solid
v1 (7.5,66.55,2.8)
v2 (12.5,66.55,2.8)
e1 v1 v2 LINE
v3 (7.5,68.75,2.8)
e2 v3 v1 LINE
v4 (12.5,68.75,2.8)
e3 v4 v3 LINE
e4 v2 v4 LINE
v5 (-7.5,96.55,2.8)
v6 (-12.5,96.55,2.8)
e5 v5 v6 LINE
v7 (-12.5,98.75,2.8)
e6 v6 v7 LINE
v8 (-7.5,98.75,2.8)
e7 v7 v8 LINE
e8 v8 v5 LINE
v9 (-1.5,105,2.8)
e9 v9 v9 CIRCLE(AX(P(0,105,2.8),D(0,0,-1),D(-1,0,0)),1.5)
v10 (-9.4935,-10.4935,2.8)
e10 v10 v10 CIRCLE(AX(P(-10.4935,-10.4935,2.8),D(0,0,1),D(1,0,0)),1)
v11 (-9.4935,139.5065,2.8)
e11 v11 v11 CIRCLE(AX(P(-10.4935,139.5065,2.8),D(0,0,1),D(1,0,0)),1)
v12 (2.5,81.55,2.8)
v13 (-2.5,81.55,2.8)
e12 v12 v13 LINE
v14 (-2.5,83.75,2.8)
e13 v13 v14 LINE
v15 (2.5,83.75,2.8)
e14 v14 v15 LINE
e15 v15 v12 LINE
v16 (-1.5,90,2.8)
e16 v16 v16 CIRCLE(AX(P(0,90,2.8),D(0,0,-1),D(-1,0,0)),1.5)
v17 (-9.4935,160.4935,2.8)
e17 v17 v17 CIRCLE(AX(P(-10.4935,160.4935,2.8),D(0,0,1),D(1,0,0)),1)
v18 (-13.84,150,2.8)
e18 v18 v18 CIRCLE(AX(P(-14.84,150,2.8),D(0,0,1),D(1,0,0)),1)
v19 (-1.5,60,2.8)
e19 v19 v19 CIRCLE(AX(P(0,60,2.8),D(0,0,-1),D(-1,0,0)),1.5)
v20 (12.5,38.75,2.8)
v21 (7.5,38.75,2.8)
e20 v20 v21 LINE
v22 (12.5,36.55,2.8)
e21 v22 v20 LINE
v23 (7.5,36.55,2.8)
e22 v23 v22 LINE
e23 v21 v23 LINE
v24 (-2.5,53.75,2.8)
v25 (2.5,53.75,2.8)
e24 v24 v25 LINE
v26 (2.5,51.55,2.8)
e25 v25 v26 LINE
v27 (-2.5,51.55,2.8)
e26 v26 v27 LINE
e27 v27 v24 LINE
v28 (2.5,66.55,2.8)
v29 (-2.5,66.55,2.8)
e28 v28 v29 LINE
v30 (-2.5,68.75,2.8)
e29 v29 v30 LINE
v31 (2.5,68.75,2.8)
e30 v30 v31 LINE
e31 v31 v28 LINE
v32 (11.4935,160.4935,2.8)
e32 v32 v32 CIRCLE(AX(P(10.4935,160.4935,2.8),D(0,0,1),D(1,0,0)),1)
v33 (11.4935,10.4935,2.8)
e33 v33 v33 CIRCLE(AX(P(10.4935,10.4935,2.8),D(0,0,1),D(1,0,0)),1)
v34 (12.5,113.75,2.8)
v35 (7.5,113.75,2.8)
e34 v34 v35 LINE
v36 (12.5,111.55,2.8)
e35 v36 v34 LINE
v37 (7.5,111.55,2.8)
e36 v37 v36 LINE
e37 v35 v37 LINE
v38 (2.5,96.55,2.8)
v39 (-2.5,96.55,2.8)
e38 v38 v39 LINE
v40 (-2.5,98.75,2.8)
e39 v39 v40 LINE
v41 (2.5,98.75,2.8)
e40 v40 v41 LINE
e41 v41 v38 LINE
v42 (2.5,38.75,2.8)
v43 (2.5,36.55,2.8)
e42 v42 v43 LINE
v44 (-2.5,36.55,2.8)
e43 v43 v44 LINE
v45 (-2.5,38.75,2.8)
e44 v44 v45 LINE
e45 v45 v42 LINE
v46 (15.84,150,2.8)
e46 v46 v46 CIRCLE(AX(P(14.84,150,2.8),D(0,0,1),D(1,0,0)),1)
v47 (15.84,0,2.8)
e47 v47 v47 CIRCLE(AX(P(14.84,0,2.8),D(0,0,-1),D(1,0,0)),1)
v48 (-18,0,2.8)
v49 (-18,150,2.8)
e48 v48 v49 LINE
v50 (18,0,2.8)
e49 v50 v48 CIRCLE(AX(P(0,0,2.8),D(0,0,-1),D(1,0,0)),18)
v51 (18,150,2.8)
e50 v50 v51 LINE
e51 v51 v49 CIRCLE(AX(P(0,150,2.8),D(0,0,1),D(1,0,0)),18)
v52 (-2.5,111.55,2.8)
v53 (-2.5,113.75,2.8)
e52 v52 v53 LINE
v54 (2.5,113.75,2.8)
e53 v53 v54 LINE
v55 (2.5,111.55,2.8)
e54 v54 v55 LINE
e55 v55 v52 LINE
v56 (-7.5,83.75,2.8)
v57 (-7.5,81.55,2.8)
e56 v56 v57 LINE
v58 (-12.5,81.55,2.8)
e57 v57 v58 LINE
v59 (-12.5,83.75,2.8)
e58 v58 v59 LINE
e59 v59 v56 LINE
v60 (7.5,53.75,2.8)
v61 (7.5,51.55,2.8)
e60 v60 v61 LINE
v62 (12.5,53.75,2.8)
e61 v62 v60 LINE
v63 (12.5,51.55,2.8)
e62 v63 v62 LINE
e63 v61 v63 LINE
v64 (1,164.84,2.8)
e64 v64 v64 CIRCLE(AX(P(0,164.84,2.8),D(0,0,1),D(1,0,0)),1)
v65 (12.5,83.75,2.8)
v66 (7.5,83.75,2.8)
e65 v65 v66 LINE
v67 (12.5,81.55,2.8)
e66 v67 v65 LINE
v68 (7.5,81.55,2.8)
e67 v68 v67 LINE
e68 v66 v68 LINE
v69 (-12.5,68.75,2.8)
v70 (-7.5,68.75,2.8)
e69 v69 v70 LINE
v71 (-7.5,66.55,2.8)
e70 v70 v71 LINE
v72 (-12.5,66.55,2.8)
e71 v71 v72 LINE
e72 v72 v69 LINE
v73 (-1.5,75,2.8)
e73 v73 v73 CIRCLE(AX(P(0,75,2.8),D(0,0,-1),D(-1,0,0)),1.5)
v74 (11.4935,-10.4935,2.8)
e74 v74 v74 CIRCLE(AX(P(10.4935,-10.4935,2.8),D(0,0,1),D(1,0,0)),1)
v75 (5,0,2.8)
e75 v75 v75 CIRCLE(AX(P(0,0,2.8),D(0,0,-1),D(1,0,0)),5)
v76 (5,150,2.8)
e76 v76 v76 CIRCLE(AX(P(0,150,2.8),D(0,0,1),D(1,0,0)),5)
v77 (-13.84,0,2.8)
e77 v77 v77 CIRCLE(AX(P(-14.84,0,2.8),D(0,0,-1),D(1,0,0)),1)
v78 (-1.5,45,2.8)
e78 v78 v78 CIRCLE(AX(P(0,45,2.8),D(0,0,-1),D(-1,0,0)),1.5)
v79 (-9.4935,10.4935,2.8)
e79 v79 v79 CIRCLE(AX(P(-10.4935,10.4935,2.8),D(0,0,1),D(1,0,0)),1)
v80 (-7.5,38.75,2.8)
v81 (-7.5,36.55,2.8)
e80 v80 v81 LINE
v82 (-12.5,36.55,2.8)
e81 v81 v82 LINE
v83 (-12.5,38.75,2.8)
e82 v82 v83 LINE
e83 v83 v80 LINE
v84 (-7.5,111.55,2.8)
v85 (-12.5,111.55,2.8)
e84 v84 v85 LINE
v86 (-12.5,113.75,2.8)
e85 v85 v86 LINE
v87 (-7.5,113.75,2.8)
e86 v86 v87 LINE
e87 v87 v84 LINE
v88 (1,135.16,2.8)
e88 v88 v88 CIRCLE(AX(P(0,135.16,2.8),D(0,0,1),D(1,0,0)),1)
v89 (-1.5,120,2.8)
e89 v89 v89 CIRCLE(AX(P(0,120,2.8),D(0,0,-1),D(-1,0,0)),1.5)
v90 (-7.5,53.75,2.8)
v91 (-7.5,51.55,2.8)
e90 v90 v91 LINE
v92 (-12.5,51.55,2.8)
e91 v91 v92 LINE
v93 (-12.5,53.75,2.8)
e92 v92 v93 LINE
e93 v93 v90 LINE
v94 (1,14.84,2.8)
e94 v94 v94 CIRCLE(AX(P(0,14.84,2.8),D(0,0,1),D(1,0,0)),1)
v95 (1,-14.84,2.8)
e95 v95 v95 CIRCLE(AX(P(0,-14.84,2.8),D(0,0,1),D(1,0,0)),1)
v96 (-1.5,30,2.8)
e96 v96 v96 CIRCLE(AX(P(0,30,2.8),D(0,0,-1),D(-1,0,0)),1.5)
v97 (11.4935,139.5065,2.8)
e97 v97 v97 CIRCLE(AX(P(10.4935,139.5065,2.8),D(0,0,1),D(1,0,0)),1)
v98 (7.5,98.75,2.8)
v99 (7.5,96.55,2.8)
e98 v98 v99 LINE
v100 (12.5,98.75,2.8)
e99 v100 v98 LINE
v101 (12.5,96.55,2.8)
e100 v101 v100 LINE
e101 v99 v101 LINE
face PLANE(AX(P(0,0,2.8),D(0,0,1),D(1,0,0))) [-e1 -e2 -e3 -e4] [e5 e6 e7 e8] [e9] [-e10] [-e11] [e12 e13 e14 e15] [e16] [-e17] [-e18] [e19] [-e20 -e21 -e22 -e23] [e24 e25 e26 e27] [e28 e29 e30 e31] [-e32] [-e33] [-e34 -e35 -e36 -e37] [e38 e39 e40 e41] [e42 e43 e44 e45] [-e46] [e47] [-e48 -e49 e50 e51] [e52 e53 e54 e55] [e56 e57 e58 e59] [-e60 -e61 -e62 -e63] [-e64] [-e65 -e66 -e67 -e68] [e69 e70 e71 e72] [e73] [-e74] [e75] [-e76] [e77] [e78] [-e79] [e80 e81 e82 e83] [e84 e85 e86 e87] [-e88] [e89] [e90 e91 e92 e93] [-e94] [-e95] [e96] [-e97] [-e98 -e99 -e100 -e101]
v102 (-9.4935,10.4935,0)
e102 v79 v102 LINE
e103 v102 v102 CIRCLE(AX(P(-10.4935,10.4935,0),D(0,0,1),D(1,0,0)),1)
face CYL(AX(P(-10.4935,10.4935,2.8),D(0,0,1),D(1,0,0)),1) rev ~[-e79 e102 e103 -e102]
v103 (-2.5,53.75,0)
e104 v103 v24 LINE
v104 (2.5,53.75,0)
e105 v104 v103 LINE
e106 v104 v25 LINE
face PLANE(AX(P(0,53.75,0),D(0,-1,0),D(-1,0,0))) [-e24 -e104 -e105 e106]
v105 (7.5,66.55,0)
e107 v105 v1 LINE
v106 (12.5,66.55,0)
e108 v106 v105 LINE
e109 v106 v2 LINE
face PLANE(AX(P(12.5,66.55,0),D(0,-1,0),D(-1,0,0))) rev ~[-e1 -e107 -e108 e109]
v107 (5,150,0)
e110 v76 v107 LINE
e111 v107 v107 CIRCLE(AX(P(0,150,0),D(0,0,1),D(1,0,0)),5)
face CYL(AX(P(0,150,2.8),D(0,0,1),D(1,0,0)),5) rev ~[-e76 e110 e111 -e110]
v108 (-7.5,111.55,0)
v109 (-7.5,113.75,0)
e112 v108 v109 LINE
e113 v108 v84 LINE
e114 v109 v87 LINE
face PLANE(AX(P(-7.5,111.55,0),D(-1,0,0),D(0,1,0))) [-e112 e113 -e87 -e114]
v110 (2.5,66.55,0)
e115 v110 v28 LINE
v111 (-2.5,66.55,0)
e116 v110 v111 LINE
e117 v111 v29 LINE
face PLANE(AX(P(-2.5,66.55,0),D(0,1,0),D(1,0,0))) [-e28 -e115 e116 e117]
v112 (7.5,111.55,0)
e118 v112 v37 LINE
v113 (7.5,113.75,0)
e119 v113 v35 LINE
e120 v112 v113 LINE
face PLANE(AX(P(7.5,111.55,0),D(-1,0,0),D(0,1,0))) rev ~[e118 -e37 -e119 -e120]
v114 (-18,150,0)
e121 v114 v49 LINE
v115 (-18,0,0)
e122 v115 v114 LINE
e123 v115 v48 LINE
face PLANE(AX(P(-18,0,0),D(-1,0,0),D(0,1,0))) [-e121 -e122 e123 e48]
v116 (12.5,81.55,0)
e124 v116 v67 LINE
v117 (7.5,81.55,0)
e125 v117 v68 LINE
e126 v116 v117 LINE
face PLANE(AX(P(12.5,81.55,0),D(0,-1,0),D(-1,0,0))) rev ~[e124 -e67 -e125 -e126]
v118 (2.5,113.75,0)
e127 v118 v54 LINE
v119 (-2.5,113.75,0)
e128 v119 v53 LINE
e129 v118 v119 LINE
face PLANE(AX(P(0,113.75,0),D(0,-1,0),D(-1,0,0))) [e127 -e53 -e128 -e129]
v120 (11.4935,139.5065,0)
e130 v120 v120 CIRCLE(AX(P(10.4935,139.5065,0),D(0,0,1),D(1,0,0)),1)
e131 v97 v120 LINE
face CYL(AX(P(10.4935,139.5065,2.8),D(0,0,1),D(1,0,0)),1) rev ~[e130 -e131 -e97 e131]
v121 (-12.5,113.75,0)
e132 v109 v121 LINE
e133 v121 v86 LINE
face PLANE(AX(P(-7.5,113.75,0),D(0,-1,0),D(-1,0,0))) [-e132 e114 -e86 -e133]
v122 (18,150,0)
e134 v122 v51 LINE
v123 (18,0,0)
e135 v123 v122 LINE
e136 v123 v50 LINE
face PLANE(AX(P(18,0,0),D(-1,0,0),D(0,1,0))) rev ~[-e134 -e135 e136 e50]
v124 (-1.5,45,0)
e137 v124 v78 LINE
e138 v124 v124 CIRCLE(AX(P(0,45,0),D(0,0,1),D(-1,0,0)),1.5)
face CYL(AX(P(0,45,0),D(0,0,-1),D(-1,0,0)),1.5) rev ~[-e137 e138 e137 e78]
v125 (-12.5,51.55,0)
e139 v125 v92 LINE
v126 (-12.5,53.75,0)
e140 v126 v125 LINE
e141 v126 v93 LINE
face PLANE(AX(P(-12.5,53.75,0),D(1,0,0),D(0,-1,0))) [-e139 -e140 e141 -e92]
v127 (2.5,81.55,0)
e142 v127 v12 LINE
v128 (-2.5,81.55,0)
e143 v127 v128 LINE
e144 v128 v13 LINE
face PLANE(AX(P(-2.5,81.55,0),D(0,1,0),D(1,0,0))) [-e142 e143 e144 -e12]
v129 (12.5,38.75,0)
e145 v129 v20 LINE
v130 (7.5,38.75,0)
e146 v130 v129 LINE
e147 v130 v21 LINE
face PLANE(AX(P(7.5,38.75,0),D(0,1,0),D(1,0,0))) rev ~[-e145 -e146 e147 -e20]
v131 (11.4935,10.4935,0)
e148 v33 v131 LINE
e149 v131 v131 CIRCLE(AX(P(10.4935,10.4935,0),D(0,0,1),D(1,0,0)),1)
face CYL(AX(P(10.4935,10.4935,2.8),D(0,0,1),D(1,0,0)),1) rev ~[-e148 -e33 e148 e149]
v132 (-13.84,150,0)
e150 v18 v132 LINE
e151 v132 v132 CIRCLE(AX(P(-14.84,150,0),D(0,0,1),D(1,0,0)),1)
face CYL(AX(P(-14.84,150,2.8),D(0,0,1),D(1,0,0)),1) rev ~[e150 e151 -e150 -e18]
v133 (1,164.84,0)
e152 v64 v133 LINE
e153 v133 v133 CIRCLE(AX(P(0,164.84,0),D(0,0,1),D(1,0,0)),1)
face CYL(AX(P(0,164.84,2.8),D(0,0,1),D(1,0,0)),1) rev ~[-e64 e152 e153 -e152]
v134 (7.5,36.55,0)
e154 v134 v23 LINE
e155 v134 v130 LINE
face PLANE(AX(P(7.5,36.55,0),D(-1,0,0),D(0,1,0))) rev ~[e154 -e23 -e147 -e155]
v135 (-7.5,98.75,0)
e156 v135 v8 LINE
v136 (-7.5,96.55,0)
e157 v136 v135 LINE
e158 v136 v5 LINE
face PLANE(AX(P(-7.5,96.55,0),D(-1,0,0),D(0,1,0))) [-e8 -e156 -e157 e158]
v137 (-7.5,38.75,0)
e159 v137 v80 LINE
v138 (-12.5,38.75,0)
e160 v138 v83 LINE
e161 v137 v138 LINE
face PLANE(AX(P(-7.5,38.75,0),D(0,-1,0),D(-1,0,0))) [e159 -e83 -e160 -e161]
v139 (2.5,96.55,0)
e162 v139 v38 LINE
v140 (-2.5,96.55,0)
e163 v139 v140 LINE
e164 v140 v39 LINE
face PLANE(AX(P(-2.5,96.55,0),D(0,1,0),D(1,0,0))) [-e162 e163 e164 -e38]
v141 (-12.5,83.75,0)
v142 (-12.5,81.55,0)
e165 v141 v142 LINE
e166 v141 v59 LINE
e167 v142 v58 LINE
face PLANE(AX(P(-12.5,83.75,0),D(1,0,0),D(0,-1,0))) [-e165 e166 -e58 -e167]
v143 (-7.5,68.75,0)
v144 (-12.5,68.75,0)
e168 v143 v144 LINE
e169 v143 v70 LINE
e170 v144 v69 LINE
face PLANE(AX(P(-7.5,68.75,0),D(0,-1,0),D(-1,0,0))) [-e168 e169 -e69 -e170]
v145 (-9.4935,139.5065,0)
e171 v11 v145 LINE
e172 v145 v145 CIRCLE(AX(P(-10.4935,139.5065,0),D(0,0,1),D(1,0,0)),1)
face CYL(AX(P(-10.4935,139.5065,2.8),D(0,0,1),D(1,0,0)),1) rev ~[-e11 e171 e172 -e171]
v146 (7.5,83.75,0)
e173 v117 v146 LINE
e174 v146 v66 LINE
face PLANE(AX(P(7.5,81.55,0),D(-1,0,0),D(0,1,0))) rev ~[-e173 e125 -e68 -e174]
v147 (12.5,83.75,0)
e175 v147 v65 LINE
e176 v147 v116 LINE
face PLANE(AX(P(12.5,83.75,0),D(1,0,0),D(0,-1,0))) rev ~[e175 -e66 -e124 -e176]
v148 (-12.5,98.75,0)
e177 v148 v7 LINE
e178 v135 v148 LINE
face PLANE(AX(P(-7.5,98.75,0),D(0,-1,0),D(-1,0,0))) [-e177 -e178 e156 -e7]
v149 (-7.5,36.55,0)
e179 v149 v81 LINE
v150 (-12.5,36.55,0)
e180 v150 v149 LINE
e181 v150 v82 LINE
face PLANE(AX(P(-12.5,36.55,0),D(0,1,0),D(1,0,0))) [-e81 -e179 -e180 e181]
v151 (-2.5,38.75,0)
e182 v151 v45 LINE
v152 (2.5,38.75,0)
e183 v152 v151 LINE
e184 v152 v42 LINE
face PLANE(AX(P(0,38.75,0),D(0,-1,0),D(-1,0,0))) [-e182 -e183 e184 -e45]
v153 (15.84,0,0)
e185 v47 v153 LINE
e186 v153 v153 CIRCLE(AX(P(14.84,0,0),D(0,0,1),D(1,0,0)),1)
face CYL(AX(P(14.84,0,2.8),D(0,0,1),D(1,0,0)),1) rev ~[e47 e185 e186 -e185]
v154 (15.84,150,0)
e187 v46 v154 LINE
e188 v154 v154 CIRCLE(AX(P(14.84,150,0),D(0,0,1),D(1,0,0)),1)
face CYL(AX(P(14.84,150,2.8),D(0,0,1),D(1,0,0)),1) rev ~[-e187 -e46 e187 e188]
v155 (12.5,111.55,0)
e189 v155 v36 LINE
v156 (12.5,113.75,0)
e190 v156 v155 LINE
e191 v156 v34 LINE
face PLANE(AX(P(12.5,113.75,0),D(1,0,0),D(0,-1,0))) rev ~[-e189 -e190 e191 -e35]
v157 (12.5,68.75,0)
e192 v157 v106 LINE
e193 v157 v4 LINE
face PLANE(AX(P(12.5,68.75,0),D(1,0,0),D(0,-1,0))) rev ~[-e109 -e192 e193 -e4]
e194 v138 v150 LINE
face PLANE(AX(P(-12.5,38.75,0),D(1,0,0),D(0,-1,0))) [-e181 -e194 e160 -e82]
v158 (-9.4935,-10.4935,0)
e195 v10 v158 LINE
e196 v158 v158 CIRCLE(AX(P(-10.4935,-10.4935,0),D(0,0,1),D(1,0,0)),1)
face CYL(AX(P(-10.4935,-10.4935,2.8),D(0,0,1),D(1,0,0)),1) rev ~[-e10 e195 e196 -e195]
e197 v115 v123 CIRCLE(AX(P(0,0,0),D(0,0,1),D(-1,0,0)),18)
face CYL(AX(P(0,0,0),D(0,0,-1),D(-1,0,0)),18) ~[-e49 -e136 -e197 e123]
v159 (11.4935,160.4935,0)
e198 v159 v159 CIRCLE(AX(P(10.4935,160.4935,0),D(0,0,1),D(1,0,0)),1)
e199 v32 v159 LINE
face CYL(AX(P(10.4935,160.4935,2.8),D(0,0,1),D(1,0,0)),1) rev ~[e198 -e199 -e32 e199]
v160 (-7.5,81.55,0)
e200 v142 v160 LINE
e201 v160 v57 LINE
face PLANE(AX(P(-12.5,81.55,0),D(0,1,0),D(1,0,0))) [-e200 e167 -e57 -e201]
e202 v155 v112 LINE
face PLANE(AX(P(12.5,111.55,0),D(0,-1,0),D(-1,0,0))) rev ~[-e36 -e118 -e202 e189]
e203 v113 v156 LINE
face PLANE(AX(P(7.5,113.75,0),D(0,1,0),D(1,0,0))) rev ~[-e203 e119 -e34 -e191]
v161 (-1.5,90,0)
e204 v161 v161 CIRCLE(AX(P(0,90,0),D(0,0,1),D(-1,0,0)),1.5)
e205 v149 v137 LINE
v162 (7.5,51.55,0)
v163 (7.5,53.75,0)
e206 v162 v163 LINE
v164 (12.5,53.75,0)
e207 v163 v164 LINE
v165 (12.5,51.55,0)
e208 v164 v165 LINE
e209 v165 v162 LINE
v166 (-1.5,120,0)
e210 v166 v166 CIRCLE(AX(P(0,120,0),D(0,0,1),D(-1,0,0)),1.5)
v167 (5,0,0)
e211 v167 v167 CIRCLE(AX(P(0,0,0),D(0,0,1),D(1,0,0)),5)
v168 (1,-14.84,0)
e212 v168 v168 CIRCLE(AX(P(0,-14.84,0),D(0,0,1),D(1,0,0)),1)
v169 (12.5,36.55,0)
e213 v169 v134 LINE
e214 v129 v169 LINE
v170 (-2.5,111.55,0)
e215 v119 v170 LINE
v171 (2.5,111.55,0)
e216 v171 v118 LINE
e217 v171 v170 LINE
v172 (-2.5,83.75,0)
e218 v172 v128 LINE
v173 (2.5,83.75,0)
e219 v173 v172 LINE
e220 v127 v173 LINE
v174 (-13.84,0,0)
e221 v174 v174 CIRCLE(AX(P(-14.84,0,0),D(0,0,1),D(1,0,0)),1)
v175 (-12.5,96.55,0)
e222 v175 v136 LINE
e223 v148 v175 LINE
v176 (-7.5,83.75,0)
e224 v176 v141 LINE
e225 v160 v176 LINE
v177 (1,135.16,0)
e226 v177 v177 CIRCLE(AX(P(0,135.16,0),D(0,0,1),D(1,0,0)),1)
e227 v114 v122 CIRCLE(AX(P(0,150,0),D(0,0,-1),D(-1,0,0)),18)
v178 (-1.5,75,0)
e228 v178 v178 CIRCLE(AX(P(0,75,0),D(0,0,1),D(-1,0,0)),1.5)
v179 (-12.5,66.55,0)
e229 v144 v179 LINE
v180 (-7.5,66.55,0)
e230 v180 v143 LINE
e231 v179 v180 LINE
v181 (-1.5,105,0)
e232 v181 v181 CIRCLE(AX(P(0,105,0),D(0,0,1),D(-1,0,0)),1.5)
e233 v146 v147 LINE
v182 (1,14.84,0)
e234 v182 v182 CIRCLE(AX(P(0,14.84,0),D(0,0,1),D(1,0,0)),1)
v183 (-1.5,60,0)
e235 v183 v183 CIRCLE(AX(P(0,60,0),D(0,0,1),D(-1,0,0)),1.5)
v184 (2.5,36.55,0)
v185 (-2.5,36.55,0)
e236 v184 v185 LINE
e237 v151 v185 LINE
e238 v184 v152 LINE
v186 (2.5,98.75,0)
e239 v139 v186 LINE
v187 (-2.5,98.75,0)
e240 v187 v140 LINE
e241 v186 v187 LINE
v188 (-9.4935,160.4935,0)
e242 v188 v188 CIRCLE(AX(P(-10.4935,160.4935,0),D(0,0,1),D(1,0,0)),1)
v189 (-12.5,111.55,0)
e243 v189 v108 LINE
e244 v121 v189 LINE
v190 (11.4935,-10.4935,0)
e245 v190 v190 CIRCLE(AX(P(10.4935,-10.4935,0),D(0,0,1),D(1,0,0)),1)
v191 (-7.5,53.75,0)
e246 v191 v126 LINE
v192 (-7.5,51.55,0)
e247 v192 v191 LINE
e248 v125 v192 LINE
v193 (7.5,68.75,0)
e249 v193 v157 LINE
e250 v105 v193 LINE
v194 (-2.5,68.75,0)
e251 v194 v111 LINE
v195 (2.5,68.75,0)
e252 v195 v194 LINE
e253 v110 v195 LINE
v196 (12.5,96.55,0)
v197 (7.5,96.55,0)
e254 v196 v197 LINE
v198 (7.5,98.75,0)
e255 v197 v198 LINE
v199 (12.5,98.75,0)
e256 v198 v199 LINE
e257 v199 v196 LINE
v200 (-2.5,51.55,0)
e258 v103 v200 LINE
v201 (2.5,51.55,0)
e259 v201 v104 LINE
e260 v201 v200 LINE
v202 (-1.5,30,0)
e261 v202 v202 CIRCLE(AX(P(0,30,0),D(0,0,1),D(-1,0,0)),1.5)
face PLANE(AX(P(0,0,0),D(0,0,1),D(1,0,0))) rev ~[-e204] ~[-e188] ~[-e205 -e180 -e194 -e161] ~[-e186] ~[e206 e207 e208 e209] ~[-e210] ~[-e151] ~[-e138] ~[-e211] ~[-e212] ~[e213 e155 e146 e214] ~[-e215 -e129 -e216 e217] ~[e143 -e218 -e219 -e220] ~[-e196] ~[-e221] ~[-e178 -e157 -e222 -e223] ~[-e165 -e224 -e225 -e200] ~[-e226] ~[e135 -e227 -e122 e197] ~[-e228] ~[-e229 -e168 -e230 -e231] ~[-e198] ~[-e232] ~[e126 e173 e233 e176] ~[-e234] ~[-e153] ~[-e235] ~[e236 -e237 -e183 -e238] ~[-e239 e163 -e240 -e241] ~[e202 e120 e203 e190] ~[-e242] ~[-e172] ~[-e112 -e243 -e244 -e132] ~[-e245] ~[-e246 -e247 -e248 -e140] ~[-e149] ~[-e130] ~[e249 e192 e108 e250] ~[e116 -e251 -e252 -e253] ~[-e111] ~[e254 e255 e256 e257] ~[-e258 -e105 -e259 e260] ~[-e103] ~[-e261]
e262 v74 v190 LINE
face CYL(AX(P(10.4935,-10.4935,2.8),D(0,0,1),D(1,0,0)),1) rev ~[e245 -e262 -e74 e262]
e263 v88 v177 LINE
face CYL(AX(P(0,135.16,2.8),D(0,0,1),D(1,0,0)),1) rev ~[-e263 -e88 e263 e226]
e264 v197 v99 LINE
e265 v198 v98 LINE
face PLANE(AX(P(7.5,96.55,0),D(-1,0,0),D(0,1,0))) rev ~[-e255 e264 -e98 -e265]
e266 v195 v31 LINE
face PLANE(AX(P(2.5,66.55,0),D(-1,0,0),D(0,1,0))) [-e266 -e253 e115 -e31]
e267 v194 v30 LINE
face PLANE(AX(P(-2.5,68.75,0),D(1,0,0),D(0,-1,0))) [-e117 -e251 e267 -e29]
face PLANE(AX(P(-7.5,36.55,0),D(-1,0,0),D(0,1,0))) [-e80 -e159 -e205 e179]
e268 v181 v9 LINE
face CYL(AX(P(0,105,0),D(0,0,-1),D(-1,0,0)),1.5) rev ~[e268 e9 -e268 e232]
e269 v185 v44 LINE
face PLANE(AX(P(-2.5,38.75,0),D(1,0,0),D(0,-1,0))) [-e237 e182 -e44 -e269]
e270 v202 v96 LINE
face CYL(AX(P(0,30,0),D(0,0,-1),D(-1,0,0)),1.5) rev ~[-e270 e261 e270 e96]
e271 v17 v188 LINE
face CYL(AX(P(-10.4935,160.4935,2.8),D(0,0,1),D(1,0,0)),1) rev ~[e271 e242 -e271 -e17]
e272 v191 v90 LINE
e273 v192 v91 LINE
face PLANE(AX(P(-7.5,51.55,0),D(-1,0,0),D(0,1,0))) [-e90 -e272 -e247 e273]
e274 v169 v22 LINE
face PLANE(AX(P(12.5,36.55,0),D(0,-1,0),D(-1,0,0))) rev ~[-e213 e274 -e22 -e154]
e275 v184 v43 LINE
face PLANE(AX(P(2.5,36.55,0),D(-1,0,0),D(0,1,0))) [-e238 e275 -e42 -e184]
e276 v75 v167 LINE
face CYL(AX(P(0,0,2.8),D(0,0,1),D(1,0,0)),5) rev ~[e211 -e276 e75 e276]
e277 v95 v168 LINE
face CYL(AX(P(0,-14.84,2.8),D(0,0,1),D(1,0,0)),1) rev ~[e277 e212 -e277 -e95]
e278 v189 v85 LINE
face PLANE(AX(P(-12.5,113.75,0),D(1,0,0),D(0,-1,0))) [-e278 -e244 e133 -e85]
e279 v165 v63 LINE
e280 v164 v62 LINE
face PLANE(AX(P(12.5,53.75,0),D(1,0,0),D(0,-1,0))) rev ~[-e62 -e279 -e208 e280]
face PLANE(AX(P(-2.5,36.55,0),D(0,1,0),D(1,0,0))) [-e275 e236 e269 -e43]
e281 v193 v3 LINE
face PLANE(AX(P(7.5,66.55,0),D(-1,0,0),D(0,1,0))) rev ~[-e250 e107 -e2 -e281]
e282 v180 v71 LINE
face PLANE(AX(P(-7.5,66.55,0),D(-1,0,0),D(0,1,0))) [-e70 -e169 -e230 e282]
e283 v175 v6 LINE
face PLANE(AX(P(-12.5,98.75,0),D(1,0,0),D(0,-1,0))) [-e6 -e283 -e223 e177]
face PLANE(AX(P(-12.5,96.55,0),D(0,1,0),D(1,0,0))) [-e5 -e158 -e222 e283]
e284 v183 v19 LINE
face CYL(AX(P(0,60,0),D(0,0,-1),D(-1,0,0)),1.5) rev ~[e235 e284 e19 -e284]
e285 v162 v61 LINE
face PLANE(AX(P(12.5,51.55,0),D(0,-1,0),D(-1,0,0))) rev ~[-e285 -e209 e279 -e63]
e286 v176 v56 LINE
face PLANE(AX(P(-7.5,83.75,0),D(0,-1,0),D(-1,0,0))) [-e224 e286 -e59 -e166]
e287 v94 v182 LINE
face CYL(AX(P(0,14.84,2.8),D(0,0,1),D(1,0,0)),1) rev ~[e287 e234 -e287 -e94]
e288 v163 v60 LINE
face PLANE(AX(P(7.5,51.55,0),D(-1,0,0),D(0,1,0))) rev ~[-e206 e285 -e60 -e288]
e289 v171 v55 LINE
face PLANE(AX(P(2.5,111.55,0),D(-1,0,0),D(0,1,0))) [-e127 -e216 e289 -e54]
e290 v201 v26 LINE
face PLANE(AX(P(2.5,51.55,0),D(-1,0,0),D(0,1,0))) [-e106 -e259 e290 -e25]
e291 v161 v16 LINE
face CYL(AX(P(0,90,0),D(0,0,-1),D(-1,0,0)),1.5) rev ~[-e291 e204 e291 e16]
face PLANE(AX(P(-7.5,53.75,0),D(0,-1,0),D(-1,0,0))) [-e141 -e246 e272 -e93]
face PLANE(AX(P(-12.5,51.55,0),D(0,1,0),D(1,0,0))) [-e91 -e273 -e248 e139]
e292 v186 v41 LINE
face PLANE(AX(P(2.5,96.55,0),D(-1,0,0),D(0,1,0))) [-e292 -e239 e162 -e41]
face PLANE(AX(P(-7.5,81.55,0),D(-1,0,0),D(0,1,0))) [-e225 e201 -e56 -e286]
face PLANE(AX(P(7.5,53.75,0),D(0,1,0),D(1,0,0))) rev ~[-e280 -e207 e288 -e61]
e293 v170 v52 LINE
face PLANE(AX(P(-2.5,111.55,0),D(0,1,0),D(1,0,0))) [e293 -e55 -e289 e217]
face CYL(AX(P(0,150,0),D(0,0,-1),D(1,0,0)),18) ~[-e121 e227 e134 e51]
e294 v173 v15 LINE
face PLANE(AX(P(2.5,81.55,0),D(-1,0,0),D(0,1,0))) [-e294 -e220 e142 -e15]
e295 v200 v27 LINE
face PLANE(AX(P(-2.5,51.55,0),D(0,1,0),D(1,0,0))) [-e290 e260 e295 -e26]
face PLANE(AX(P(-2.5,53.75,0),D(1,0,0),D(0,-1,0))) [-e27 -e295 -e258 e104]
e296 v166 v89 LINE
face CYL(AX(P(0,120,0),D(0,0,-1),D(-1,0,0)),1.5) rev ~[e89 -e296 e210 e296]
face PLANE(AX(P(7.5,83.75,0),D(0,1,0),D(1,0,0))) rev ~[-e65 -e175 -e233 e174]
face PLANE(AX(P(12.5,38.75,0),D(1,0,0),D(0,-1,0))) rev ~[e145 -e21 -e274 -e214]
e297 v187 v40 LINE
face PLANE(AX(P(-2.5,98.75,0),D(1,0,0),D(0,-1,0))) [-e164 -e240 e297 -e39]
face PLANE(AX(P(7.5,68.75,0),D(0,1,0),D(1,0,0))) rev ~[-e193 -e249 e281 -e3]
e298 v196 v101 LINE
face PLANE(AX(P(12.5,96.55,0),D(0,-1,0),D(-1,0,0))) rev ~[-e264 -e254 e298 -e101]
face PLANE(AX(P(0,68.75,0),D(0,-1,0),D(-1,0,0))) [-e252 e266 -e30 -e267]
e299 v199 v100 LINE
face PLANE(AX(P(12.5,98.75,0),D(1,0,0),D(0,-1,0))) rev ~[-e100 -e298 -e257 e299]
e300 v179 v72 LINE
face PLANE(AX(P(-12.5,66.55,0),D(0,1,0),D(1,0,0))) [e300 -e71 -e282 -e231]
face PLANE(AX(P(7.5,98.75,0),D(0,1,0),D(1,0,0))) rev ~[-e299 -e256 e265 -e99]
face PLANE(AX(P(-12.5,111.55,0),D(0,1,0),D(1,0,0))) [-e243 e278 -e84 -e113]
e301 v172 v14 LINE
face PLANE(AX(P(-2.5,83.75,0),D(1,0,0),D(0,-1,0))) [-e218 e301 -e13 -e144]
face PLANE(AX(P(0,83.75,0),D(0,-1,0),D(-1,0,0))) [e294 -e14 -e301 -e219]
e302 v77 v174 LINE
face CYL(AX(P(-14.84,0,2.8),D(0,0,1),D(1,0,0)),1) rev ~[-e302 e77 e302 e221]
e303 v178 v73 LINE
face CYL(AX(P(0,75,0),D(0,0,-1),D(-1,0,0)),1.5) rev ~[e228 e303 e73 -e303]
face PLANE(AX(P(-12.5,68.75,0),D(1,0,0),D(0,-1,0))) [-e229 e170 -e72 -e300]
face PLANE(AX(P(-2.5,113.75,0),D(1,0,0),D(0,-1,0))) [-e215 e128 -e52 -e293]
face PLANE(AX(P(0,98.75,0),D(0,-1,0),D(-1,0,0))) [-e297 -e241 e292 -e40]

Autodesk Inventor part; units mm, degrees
ref_plane "YZ Plane" through (0, 0, 0) normal (1, 0, 0) x (0, 1, 0)
ref_plane "XZ Plane" through (0, 0, 0) normal (0, 1, 0) x (-1, 0, 0)
ref_plane "XY Plane" through (0, 0, 0) normal (0, 0, 1) x (1, 0, 0)
sketch "Sketch1" plane through (0, 0, 0) normal (0, 0, 1) x (1, 0, 0)
  arc A0 (-18, 0) -> (18, 0) centre (0, 0) ccw
  line L0 (-18, 0) -> (-18, 150)
  line L1 (18, 0) -> (18, 150)
  arc A1 (18, 150) -> (-18, 150) centre (0, 150) ccw
  line L2 (-25.2, 0) -> (25.2, 0) projected
  line L3 (0, -55.2) -> (0, 205.2) projected
  circle A2 centre (0, 164.84) radius 1
  circle A3 centre (-10.4935, 160.4935) radius 1
  circle A4 centre (-14.84, 150) radius 1
  circle A5 centre (-10.4935, 139.5065) radius 1
  circle A6 centre (0, 135.16) radius 1
  circle A7 centre (10.4935, 139.5065) radius 1
  circle A8 centre (14.84, 150) radius 1
  circle A9 centre (10.4935, 160.4935) radius 1
  circle A10 centre (0, 14.84) radius 1
  circle A11 centre (-10.4935, 10.4935) radius 1
  circle A12 centre (-14.84, 0) radius 1
  circle A13 centre (-10.4935, -10.4935) radius 1
  circle A14 centre (0, -14.84) radius 1
  circle A15 centre (10.4935, -10.4935) radius 1
  circle A16 centre (14.84, 0) radius 1
  circle A17 centre (10.4935, 10.4935) radius 1
  circle A18 centre (0, 150) radius 1.5
  circle A19 centre (0, 0) radius 1.5
  dimension "d0" = 36
  dimension "d1" = 150
  dimension "d2" = 150
  dimension "d3" = 150
  dimension "d5" = 2
  dimension "d6" = 14.84
  dimension "d9" = 360
  dimension "d11" = 2
  dimension "d12" = 14.84
  dimension "d15" = 360
  dimension "d17" = 3
  dimension "d20" = 3
extrude "Extrusion1" add sketch "Sketch1" along normal blind 2.8 contours L2 A12 A19 L3 A14 A0 | L0 A1 L3 A2 A18 A6 A10 A19 L2 A12 | L3 A14 A19 L2 A16 A0 | A12 L2 | L2 A12 | L2 A16 A19 L3 A10 A6 A18 A2 A1 L1 | A14 L3 | L3 A14 | A16 L2 | L2 A16 | A2 L3 | L3 A2 | A19 L3 L2 | L2 L3 A19 | L3 L2 A19 | L3 A19 L2 | A18 L3 | L3 A18 | A10 L3 | L3 A10 | A6 L3 | L3 A6 | A3 | A4 | A5 | A7 | A8 | A9 | A11 | A13 | A15 | A17
sketch "Sketch2" plane through (0, 0, 2.8) normal (0, 0, 1) x (1, 0, 0)
  arc A0 (-18, 0) -> (18, 0) centre (0, 0) ccw
  line L0 (-18, 0) -> (-18, 150)
  line L1 (18, 0) -> (18, 150)
  arc A1 (18, 150) -> (-18, 150) centre (0, 150) ccw
  line L2 (-25.2, 0) -> (25.2, 0)
  circle A2 centre (0, 164.84) radius 1
  circle A3 centre (-10.4935, 160.4935) radius 1
  circle A4 centre (-14.84, 150) radius 1
  circle A5 centre (-10.4935, 139.5065) radius 1
  circle A6 centre (0, 135.16) radius 1
  circle A7 centre (10.4935, 139.5065) radius 1
  circle A8 centre (14.84, 150) radius 1
  circle A9 centre (10.4935, 160.4935) radius 1
  circle A10 centre (0, 14.84) radius 1
  circle A11 centre (-10.4935, 10.4935) radius 1
  circle A12 centre (-14.84, 0) radius 1
  circle A13 centre (-10.4935, -10.4935) radius 1
  circle A14 centre (0, -14.84) radius 1
  circle A15 centre (10.4935, -10.4935) radius 1
  circle A16 centre (14.84, 0) radius 1
  circle A17 centre (10.4935, 10.4935) radius 1
  circle A18 centre (0, 150) radius 5
  circle A19 centre (0, 0) radius 5
  dimension "d25" = 36
  dimension "d26" = 150
  dimension "d27" = 150
  dimension "d28" = 150
  dimension "d29" = 2
  dimension "d30" = 14.84
  dimension "d31" = 360
  dimension "d32" = 2
  dimension "d33" = 14.84
  dimension "d34" = 360
  dimension "d35" = 10
  dimension "d36" = 10
extrude "Extrusion2" cut sketch "Sketch2" against normal blind 3.2 contours A12 L2 | L2 A12 | A16 L2 | L2 A16 | A19 L2 | L2 A19 | A2 | A3 | A4 | A5 | A6 | A7 | A8 | A9 | A10 | A11 | A13 | A14 | A15 | A17 | A18
sketch "Sketch3" plane through (0, 0, 0) normal (0, 0, -1) x (-1, 0, 0)
  circle A0 centre (0, 150) radius 5 projected
  line L0 (18, 150) -> (18, 0) projected
  circle A1 centre (0, 120) radius 1.5
  circle A2 centre (0, 105) radius 1.5
  circle A3 centre (0, 90) radius 1.5
  circle A4 centre (0, 75) radius 1.5
  circle A5 centre (0, 60) radius 1.5
  circle A6 centre (0, 45) radius 1.5
  circle A7 centre (0, 30) radius 1.5
  circle A8 centre (0, 135.16) radius 1 projected
  circle A9 centre (0, 14.84) radius 1 projected
  line L1 (-2.5, 38.75) -> (2.5, 38.75)
  line L2 (2.5, 38.75) -> (2.5, 36.55)
  line L3 (2.5, 36.55) -> (-2.5, 36.55)
  line L4 (-2.5, 36.55) -> (-2.5, 38.75)
  line L5 (0, 14.84) -> (0, 135.16)
  line L6 (0, 25.6332) -> (4, 25.6332)
  line L7 (-2.5, 53.75) -> (2.5, 53.75)
  line L8 (2.5, 53.75) -> (2.5, 51.55)
  line L9 (2.5, 51.55) -> (-2.5, 51.55)
  line L10 (-2.5, 51.55) -> (-2.5, 53.75)
  line L11 (-2.5, 68.75) -> (2.5, 68.75)
  line L12 (2.5, 68.75) -> (2.5, 66.55)
  line L13 (2.5, 66.55) -> (-2.5, 66.55)
  line L14 (-2.5, 66.55) -> (-2.5, 68.75)
  line L15 (-2.5, 83.75) -> (2.5, 83.75)
  line L16 (2.5, 83.75) -> (2.5, 81.55)
  line L17 (2.5, 81.55) -> (-2.5, 81.55)
  line L18 (-2.5, 81.55) -> (-2.5, 83.75)
  line L19 (-2.5, 98.75) -> (2.5, 98.75)
  line L20 (2.5, 98.75) -> (2.5, 96.55)
  line L21 (2.5, 96.55) -> (-2.5, 96.55)
  line L22 (-2.5, 96.55) -> (-2.5, 98.75)
  line L23 (-2.5, 113.75) -> (2.5, 113.75)
  line L24 (2.5, 113.75) -> (2.5, 111.55)
  line L25 (2.5, 111.55) -> (-2.5, 111.55)
  line L26 (-2.5, 111.55) -> (-2.5, 113.75)
  line L27 (7.5, 38.75) -> (12.5, 38.75)
  line L28 (12.5, 38.75) -> (12.5, 36.55)
  line L29 (12.5, 36.55) -> (7.5, 36.55)
  line L30 (7.5, 36.55) -> (7.5, 38.75)
  line L31 (7.5, 53.75) -> (12.5, 53.75)
  line L32 (12.5, 53.75) -> (12.5, 51.55)
  line L33 (12.5, 51.55) -> (7.5, 51.55)
  line L34 (7.5, 51.55) -> (7.5, 53.75)
  line L35 (7.5, 68.75) -> (12.5, 68.75)
  line L36 (12.5, 68.75) -> (12.5, 66.55)
  line L37 (12.5, 66.55) -> (7.5, 66.55)
  line L38 (7.5, 66.55) -> (7.5, 68.75)
  line L39 (7.5, 83.75) -> (12.5, 83.75)
  line L40 (12.5, 83.75) -> (12.5, 81.55)
  line L41 (12.5, 81.55) -> (7.5, 81.55)
  line L42 (7.5, 81.55) -> (7.5, 83.75)
  line L43 (7.5, 98.75) -> (12.5, 98.75)
  line L44 (12.5, 98.75) -> (12.5, 96.55)
  line L45 (12.5, 96.55) -> (7.5, 96.55)
  line L46 (7.5, 96.55) -> (7.5, 98.75)
  line L47 (7.5, 113.75) -> (12.5, 113.75)
  line L48 (12.5, 113.75) -> (12.5, 111.55)
  line L49 (12.5, 111.55) -> (7.5, 111.55)
  line L50 (7.5, 111.55) -> (7.5, 113.75)
  line L51 (-7.5, 38.75) -> (-12.5, 38.75)
  line L52 (-12.5, 38.75) -> (-12.5, 36.55)
  line L53 (-7.5, 36.55) -> (-7.5, 38.75)
  line L54 (-12.5, 36.55) -> (-7.5, 36.55)
  line L55 (-7.5, 53.75) -> (-12.5, 53.75)
  line L56 (-12.5, 53.75) -> (-12.5, 51.55)
  line L57 (-7.5, 51.55) -> (-7.5, 53.75)
  line L58 (-12.5, 51.55) -> (-7.5, 51.55)
  line L59 (-7.5, 68.75) -> (-12.5, 68.75)
  line L60 (-12.5, 68.75) -> (-12.5, 66.55)
  line L61 (-7.5, 66.55) -> (-7.5, 68.75)
  line L62 (-12.5, 66.55) -> (-7.5, 66.55)
  line L63 (-7.5, 83.75) -> (-12.5, 83.75)
  line L64 (-12.5, 83.75) -> (-12.5, 81.55)
  line L65 (-7.5, 81.55) -> (-7.5, 83.75)
  line L66 (-12.5, 81.55) -> (-7.5, 81.55)
  line L67 (-7.5, 98.75) -> (-12.5, 98.75)
  line L68 (-12.5, 98.75) -> (-12.5, 96.55)
  line L69 (-7.5, 96.55) -> (-7.5, 98.75)
  line L70 (-12.5, 96.55) -> (-7.5, 96.55)
  line L71 (-7.5, 113.75) -> (-12.5, 113.75)
  line L72 (-12.5, 113.75) -> (-12.5, 111.55)
  line L73 (-7.5, 111.55) -> (-7.5, 113.75)
  line L74 (-12.5, 111.55) -> (-7.5, 111.55)
  dimension "d39" = 3
  dimension "d40" = 30
  dimension "d43" = 15
  dimension "d50" = 2.2
  dimension "d51" = 5
  dimension "d52" = 2.5
  dimension "d53" = 6.25
  dimension "d56" = 15
  dimension "d59" = 10
extrude "Extrusion3" cut sketch "Sketch3" against normal blind 10 contours A1 L5 | A7 L5 | L5 A7 | L1 L2 L3 L5 | L5 L3 L4 L1 | A6 L5 | L5 A6 | L7 L8 L9 L5 | L5 L9 L10 L7 | A5 L5 | L5 A5 | L11 L12 L13 L5 | L5 L13 L14 L11 | A4 L5 | L5 A4 | L15 L16 L17 L5 | L5 L17 L18 L15 | A3 L5 | L5 A3 | L19 L20 L21 L5 | L5 L21 L22 L19 | A2 L5 | L5 A2 | L23 L24 L25 L5 | L5 L25 L26 L23 | L5 A1 | L27 L28 L29 L30 | L31 L32 L33 L34 | L35 L36 L37 L38 | L39 L40 L41 L42 | L43 L44 L45 L46 | L47 L48 L49 L50 | L53 L54 L52 L51 | L57 L58 L56 L55 | L61 L62 L60 L59 | L65 L66 L64 L63 | L69 L70 L68 L67 | L73 L74 L72 L71
equation "\"d2\" = d1"
equation "\"d3\" = d1"
equation "\"d27\" = d26"
equation "\"d28\" = d26"
properties part number "LowerArm"
